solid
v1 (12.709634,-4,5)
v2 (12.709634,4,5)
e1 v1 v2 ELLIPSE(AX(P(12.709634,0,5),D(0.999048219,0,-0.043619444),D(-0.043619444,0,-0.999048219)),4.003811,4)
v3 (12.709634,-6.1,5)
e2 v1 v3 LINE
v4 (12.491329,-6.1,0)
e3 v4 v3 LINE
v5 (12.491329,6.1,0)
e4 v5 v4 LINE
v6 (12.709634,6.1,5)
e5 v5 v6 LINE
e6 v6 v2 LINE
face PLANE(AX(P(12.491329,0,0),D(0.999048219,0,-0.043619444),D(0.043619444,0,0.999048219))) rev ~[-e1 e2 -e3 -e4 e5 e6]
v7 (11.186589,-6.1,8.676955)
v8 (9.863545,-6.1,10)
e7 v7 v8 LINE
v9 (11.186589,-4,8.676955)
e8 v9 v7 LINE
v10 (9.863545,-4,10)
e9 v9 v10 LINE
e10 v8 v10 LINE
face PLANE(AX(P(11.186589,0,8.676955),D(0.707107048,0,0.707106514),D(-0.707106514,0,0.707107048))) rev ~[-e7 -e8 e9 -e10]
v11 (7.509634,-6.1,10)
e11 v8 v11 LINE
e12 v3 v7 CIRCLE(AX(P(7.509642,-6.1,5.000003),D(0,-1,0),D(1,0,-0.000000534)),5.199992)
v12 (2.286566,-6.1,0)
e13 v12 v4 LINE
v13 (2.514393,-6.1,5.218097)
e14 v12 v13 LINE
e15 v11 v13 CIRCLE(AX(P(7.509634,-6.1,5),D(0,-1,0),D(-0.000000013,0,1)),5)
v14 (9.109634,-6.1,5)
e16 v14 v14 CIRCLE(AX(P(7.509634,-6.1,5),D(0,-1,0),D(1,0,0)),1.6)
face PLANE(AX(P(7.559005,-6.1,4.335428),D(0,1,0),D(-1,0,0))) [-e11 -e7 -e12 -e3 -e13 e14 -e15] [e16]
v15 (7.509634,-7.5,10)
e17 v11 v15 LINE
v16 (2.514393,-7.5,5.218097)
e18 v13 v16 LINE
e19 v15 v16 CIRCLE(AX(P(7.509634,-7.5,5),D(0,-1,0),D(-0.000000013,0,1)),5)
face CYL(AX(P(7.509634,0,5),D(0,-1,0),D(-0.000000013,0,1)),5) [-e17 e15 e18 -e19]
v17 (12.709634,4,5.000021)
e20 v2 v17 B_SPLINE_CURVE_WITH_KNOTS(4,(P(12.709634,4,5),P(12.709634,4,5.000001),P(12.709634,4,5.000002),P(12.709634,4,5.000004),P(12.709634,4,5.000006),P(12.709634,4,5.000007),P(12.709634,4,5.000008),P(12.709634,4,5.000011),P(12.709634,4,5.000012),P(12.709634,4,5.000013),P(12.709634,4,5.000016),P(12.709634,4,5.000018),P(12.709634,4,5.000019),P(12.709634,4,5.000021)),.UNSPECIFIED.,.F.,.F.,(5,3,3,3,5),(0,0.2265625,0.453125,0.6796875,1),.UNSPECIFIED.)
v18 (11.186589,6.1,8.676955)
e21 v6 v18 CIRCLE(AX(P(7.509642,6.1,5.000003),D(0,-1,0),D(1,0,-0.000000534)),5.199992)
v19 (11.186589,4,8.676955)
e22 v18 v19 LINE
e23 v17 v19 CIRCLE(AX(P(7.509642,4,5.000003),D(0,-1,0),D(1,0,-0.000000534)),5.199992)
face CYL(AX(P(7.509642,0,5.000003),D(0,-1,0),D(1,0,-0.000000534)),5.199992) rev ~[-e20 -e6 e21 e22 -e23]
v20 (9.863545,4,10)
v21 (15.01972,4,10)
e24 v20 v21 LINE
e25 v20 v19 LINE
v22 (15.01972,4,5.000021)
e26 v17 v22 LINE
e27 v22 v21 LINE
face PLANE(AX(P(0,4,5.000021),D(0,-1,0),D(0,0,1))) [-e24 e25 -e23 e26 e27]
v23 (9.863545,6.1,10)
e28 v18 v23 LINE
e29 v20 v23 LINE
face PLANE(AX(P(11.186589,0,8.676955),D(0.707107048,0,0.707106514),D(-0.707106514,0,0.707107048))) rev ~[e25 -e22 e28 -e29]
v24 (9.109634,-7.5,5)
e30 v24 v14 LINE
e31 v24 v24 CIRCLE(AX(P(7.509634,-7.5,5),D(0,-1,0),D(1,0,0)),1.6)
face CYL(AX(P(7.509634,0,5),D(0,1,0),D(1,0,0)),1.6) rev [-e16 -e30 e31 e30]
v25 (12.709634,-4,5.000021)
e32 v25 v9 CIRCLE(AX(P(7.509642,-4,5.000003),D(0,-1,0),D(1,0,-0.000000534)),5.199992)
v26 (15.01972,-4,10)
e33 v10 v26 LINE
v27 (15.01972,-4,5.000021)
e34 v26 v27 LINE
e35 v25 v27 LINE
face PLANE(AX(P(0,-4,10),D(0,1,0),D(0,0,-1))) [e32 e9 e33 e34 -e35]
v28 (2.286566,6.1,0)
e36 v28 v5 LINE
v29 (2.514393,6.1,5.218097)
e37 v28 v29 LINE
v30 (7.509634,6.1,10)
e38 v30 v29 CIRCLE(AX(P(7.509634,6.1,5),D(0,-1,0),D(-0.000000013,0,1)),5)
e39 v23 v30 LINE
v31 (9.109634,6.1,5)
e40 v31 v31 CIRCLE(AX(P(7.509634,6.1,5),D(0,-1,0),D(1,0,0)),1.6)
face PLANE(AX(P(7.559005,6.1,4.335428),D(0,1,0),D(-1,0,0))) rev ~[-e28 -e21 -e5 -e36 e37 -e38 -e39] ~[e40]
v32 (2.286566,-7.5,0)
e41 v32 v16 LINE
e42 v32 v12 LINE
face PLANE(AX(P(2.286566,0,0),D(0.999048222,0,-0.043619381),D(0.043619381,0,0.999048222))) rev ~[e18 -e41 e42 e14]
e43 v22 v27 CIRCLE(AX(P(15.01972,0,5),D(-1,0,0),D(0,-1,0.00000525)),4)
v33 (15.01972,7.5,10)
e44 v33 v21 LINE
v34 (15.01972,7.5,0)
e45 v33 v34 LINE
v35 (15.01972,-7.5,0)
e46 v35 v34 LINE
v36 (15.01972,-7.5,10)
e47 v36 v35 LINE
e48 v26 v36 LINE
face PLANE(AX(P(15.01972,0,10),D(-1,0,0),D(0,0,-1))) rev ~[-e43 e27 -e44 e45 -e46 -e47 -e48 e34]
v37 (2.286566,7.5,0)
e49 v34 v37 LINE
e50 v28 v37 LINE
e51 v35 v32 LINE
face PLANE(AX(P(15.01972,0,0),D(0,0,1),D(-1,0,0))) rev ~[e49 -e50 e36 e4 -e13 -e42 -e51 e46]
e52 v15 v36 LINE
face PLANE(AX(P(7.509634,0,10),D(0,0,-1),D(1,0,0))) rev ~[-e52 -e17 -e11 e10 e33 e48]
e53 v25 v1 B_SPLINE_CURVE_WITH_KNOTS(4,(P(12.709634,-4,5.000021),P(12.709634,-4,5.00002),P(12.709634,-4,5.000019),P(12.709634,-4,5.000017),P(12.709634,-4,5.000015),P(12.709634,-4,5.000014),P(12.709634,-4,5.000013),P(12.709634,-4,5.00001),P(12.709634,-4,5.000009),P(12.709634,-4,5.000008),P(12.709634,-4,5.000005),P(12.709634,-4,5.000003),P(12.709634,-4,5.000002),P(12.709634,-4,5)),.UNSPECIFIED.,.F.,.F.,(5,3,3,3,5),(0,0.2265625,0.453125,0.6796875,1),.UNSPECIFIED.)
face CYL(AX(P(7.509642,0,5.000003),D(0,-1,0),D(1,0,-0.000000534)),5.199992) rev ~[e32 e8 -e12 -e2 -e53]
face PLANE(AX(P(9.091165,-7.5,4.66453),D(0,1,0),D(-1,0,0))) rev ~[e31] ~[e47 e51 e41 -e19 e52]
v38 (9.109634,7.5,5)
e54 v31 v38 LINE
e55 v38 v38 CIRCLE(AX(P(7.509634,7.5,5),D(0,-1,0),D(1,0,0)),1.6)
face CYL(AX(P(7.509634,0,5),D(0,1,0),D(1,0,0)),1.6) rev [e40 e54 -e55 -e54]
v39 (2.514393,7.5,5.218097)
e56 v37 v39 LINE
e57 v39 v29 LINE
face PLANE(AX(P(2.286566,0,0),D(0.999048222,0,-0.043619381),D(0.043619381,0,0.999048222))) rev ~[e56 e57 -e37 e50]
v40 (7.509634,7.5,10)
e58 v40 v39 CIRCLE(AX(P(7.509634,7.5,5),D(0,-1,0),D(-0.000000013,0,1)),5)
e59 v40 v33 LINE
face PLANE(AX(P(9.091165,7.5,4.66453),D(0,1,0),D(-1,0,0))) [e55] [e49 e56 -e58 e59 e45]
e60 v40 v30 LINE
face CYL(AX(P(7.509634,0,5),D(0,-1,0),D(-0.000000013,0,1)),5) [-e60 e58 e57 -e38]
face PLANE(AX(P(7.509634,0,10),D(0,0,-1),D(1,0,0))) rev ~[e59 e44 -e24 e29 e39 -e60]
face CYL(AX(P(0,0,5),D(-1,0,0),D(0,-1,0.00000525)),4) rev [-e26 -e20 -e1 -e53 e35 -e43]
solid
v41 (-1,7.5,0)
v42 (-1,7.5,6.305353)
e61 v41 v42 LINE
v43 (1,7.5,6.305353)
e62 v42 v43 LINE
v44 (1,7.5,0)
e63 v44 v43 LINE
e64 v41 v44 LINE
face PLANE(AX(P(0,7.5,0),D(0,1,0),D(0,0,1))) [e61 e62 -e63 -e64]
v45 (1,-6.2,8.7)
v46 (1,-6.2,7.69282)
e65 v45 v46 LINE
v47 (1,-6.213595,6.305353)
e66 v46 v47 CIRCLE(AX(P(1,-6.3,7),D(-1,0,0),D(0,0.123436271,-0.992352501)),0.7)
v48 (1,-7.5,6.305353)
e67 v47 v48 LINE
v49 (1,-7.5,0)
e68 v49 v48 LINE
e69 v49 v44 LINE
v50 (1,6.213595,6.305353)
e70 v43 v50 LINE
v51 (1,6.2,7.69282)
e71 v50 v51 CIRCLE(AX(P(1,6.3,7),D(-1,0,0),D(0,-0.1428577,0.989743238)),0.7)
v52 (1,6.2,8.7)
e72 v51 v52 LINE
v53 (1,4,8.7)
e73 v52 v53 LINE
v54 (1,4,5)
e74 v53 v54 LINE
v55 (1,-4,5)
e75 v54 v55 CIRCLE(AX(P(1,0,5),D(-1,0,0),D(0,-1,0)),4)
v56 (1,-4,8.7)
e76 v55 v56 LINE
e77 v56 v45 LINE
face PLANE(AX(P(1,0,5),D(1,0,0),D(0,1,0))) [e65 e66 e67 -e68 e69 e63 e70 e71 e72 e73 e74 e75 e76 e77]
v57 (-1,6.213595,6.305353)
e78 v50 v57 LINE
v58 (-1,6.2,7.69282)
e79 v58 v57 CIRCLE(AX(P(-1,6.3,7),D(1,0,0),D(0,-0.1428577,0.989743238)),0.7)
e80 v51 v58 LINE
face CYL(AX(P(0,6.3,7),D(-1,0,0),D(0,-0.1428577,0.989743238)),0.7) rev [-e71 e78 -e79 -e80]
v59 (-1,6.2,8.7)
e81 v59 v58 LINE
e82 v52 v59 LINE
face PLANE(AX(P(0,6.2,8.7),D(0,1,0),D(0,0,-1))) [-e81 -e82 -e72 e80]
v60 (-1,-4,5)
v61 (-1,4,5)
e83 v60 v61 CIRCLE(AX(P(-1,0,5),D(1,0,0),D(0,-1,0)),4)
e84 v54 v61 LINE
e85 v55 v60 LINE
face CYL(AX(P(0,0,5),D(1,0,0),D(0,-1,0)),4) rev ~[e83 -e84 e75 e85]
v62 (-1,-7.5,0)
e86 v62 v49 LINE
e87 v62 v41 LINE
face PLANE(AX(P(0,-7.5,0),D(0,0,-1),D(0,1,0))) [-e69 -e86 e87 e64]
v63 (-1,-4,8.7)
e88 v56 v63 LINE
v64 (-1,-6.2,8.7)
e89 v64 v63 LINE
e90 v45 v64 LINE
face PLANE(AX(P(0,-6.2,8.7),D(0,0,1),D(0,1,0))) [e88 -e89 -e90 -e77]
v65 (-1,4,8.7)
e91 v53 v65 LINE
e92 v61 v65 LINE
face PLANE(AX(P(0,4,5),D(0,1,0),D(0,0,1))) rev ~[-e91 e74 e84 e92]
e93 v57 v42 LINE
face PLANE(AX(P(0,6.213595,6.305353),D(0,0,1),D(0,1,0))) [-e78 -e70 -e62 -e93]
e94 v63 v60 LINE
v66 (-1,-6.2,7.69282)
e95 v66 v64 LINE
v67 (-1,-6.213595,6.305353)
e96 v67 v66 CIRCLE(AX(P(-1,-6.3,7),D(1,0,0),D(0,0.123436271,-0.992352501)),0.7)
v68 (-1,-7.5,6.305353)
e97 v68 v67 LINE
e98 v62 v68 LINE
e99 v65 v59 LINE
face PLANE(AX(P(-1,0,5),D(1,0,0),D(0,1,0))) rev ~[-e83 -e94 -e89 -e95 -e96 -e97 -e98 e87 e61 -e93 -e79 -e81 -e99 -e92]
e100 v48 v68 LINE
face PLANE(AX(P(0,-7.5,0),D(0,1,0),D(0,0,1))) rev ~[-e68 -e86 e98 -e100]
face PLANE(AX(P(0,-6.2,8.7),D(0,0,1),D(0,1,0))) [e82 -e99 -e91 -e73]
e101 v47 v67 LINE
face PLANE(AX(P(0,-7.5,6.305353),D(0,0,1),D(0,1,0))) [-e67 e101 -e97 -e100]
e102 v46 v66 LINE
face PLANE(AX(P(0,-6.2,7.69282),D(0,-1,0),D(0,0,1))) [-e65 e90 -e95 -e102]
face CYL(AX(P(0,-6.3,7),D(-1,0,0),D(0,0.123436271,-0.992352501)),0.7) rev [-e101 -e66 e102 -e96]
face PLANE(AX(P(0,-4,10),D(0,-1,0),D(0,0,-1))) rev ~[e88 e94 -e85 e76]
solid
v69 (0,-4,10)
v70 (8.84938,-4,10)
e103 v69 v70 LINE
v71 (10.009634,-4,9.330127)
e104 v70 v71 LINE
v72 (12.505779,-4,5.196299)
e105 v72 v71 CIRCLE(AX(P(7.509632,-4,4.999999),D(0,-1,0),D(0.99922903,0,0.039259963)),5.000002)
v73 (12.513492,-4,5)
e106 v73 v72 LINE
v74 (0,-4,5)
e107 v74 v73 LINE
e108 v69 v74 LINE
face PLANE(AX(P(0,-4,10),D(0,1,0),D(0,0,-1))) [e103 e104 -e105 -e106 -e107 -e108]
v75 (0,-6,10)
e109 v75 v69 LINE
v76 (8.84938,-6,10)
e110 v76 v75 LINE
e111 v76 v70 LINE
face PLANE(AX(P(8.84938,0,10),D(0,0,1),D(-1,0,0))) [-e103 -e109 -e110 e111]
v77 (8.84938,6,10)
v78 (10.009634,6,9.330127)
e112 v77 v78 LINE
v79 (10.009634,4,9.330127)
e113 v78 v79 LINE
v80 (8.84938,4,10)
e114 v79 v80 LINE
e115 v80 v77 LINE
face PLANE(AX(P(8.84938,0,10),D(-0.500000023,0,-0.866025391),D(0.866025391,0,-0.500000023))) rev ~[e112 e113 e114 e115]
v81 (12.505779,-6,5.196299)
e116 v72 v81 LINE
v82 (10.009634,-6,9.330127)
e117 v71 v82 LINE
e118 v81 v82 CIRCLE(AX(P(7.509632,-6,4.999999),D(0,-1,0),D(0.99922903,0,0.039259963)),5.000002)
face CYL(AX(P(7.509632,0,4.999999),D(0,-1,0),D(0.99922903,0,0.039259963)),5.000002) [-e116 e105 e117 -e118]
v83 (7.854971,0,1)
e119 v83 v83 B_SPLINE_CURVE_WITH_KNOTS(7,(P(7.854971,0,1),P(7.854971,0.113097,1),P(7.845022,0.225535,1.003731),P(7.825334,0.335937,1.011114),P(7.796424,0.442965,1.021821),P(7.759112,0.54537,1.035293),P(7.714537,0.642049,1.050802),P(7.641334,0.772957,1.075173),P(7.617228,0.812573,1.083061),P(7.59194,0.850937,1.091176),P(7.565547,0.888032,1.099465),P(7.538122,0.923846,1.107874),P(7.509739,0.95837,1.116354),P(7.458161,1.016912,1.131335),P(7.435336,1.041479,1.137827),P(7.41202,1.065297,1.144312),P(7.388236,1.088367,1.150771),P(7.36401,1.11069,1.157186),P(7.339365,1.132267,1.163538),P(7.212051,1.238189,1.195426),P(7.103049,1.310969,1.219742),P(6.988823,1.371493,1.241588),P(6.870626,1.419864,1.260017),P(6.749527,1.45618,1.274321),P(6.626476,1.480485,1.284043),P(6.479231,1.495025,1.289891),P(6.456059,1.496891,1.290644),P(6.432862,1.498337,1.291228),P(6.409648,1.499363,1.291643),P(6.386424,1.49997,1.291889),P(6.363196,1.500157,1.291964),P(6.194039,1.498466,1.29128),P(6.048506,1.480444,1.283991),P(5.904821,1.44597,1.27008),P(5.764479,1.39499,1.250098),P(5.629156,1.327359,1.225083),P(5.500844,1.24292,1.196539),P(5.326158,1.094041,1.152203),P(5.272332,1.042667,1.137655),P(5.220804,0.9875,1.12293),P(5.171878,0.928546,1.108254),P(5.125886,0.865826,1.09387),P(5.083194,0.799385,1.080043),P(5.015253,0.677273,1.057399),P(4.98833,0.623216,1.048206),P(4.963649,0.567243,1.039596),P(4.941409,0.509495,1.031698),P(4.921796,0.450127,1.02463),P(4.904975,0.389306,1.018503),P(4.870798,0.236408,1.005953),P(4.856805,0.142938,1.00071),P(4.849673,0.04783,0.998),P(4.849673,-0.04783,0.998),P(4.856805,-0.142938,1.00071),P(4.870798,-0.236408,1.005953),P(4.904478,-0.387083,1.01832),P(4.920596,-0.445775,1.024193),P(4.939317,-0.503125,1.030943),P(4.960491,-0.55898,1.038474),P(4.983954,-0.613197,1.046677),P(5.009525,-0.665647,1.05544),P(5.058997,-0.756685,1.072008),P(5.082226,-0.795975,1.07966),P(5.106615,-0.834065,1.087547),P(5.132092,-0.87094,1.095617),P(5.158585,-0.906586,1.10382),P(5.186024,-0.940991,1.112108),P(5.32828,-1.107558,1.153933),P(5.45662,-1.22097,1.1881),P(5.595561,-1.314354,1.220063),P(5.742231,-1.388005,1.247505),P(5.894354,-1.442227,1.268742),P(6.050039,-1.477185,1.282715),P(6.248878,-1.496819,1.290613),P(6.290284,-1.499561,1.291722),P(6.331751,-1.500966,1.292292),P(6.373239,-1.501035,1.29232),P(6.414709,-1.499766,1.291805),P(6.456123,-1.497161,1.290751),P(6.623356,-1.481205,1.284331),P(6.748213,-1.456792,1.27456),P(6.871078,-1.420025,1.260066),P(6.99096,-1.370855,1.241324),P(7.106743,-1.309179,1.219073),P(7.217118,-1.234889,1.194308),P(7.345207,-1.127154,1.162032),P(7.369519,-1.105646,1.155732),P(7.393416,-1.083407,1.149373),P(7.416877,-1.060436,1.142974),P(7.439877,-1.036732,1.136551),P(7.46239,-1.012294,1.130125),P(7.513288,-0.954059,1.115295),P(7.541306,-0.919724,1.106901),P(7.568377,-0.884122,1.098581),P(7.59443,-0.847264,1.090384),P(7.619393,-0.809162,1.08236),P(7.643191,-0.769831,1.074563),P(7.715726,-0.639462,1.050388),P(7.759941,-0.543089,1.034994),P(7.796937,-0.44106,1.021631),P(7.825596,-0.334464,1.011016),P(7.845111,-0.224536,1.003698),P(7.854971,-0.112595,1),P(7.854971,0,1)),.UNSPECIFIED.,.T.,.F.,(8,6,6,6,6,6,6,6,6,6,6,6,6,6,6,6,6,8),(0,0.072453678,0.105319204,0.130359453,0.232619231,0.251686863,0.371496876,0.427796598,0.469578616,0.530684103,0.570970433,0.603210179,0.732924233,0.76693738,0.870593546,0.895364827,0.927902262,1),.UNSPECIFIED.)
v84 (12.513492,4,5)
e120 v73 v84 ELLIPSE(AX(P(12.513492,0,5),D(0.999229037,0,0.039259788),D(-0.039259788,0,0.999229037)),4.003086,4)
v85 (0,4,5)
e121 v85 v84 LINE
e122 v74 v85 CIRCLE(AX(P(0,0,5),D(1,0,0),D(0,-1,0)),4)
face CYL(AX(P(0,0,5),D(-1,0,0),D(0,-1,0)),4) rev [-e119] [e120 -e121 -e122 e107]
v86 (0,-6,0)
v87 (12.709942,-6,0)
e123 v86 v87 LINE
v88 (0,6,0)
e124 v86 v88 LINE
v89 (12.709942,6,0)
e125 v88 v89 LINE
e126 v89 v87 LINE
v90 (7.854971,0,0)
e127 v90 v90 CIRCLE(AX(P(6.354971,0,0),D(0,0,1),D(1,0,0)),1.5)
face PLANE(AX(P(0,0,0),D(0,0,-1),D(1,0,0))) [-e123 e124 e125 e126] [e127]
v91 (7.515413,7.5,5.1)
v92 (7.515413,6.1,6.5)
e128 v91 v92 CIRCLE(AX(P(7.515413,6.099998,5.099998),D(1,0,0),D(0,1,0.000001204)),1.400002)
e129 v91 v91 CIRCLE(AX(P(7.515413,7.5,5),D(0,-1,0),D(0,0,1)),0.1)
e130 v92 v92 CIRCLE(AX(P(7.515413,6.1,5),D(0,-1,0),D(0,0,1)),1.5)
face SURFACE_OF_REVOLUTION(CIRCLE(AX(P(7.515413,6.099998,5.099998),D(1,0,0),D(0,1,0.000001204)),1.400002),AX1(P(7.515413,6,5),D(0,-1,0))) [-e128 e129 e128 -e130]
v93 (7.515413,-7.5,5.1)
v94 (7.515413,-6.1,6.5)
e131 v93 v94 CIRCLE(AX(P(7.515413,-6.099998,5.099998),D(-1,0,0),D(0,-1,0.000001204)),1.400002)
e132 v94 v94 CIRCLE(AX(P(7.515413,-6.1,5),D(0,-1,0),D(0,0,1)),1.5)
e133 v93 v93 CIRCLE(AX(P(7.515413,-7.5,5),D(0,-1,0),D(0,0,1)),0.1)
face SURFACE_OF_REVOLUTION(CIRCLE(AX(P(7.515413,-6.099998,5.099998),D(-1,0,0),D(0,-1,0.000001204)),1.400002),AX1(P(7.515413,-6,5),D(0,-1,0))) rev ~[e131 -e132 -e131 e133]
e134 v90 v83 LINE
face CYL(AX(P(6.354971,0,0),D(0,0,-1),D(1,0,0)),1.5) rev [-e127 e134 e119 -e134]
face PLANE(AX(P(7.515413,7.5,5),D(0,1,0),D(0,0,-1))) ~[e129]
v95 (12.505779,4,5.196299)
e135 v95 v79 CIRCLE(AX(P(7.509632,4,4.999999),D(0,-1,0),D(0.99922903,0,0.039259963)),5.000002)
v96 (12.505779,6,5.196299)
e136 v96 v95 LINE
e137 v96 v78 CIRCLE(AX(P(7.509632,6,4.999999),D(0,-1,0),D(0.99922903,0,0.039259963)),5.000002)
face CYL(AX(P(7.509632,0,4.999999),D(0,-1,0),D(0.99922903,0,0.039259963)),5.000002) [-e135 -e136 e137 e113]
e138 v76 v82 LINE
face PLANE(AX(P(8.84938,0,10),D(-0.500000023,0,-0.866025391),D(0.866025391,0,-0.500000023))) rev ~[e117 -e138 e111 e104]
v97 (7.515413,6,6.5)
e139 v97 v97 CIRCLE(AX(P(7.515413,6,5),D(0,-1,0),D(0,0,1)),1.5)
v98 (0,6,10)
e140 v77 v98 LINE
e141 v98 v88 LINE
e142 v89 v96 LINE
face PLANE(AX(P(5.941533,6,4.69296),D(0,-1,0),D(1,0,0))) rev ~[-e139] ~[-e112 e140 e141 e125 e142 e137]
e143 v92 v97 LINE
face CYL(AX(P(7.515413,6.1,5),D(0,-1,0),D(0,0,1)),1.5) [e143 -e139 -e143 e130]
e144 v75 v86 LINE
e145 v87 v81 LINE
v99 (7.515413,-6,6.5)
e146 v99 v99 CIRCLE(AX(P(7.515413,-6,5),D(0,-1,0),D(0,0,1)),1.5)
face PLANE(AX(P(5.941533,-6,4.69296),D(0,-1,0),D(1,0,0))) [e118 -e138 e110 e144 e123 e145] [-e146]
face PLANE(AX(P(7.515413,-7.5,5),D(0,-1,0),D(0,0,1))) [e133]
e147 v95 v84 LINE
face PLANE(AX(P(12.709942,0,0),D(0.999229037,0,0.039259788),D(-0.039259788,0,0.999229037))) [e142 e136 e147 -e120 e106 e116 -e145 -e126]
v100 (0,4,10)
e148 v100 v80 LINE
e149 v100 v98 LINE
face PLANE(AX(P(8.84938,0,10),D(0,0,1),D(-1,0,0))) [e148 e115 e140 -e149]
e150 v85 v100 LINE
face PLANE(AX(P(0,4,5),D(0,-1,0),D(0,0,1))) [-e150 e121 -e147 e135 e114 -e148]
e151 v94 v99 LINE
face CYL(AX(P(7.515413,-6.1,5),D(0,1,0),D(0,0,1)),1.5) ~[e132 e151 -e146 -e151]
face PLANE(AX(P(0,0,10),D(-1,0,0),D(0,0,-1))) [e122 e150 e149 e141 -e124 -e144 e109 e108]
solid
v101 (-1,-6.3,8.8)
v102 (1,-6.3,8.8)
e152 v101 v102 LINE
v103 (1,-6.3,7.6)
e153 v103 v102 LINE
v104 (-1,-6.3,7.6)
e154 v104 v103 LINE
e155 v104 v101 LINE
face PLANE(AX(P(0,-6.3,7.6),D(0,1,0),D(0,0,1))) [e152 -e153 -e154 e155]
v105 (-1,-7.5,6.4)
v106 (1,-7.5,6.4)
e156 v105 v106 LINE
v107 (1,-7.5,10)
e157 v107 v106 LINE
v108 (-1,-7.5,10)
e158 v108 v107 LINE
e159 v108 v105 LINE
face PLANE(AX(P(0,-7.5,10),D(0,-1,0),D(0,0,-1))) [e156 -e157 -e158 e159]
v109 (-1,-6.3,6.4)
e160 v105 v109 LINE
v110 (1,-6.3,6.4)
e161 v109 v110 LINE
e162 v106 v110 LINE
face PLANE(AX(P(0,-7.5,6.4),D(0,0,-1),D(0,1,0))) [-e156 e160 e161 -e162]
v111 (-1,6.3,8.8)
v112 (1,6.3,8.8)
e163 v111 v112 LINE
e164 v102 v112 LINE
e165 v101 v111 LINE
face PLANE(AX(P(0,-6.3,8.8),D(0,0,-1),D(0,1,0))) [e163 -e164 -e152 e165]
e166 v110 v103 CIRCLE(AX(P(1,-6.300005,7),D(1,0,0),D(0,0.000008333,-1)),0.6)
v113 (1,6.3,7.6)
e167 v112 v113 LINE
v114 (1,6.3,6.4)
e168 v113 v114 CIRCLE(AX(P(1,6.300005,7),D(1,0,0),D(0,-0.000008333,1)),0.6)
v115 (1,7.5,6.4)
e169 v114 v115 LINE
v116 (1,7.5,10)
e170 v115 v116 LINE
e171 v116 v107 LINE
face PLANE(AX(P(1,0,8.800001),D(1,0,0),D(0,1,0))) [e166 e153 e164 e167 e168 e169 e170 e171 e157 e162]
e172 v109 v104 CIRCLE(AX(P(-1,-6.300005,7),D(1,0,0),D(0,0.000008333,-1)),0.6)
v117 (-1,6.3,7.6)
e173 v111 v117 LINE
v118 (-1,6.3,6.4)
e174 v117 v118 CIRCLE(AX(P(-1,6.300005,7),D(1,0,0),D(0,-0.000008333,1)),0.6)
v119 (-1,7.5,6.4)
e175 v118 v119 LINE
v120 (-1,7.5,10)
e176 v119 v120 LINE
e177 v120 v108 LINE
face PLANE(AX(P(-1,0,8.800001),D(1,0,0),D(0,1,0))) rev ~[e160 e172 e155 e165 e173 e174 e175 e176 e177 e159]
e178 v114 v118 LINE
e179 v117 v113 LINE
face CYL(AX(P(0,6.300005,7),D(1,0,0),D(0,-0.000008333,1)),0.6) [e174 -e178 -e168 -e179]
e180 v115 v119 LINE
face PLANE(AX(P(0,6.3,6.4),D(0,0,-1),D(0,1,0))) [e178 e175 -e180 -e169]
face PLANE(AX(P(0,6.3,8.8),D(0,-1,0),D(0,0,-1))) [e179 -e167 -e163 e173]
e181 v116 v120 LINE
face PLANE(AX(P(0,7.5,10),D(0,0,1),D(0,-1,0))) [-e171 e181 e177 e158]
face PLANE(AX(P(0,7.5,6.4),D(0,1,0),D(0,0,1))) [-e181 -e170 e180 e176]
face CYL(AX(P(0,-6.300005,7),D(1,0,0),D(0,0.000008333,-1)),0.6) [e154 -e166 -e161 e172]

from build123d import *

# Parameters (mm, degrees)
PAD_DEPTH            = 6
POCKET002_DEPTH      = 0.001
POCKET002_DEPTH_BACK = -12.710942
SKETCH012_R          = 1.5
POCKET005_DEPTH      = 10.001
POCKET005_DEPTH_BACK = 0.001
SKETCH001_R          = 1.6
PAD001_DEPTH         = 7.5
SKETCH003_R          = 1.6
POCKET_DEPTH         = 6.1
POCKET001_DEPTH      = 0.001
POCKET001_DEPTH_BACK = -15.02072
PAD002_DEPTH         = 1
SKETCH010_W          = 15
SKETCH010_H          = 10
PAD004_DEPTH         = 1
POCKET003_DEPTH      = 1.001
POCKET003_DEPTH_BACK = -1.001
POCKET004_DEPTH      = 1.001
POCKET004_DEPTH_BACK = -1.001


with BuildPart() as inner:
    # Sketch → Pad (new body, symmetric)
    with BuildSketch(Plane.XZ):
        with BuildLine():
            Line((0, 0), (12.709942, 0))
            Line((12.709942, 0), (12.505779, 5.196299))
            ThreePointArc((12.505779, 5.196299), (11.789842, 7.584534), (10.009634, 9.330127))
            Line((8.84938, 10), (10.009634, 9.330127))
            Line((7.509634, 10), (8.84938, 10))
            Line((7.509634, 10), (0, 10))
            Line((0, 10), (0, 0))
        make_face()
    extrude(amount=PAD_DEPTH, both=True)

    # Sketch005 (on DatumPlane) → Revolution (revolve)
    with BuildSketch(Plane(origin=(7.515413, -6, 5), x_dir=(0, -1, 0), z_dir=(-1, 0, 0))):
        with BuildLine():
            Line((0, 0), (1.5, 0))
            Line((1.5, 0.1), (1.5, 0))
            ThreePointArc((1.5, 0.1), (1.089949, 1.089949), (0.1, 1.5))
            Line((0.1, 1.5), (0, 1.5))
            Line((0, 1.5), (0, 0))
        make_face()
    revolution = revolve(axis=Axis((7.515413, -6, 5), (0, -1, 0)))

    # Mirrored: Revolution across XZ
    add(revolution.mirror(Plane.XZ))

    # Sketch007 → Pocket002 (cut, two sides)
    with BuildSketch(Plane.YZ) as pocket002_sk:
        with BuildLine():
            ThreePointArc((-4, 5), (0, 1), (4, 5))
            Line((4, 5), (4, 10))
            Line((4, 10), (-4, 10))
            Line((-4, 10), (-4, 5))
        make_face()
    extrude(amount=-POCKET002_DEPTH, mode=Mode.SUBTRACT)
    extrude(pocket002_sk.sketch, amount=-POCKET002_DEPTH_BACK, mode=Mode.SUBTRACT)

    # Sketch012 → Pocket005 (cut, two sides)
    with BuildSketch(Plane.XY) as pocket005_sk:
        with Locations((6.354971, 0)):
            Circle(SKETCH012_R)
    extrude(amount=POCKET005_DEPTH, mode=Mode.SUBTRACT)
    extrude(pocket005_sk.sketch, amount=-POCKET005_DEPTH_BACK, mode=Mode.SUBTRACT)


with BuildPart() as outer:
    # Sketch001 → Pad001 (new body, symmetric)
    with BuildSketch(Plane.XZ):
        with BuildLine():
            Line((15.01972, 10), (15.01972, 0))
            Line((15.01972, 0), (2.286566, 0))
            Line((2.286566, 0), (2.514393, 5.218097))
            ThreePointArc((7.509634, 10), (4.052069, 8.61182), (2.514393, 5.218097))
            Line((7.509634, 10), (15.01972, 10))
        make_face()
        with Locations((7.509634, 5)):
            Circle(SKETCH001_R, mode=Mode.SUBTRACT)
    extrude(amount=PAD001_DEPTH, both=True)

    # Sketch003 → Pocket (cut, symmetric)
    with BuildSketch(Plane.XZ):
        with BuildLine():
            Line((2.286566, 0), (2.514393, 5.218097))
            ThreePointArc((7.509634, 10), (4.052069, 8.61182), (2.514393, 5.218097))
            Line((9.863545, 10), (7.509634, 10))
            Line((11.186589, 8.676955), (9.863545, 10))
            ThreePointArc((12.709634, 5), (12.313808, 6.989954), (11.186589, 8.676955))
            Line((12.491329, 0), (12.709634, 5))
            Line((2.514393, 0), (12.491329, 0))
            Line((2.286566, 0), (2.514393, 0))
        make_face()
        with Locations((7.509634, 5)):
            Circle(SKETCH003_R, mode=Mode.SUBTRACT)
    extrude(amount=POCKET_DEPTH, both=True, mode=Mode.SUBTRACT)

    # Sketch006 → Pocket001 (cut, two sides)
    with BuildSketch(Plane.YZ) as pocket001_sk:
        with BuildLine():
            ThreePointArc((-4, 5.000021), (0, 1), (4, 5.000021))
            Line((4, 5.000021), (4, 10))
            Line((4, 10), (-4, 10))
            Line((-4, 10), (-4, 5.000021))
        make_face()
    extrude(amount=-POCKET001_DEPTH, mode=Mode.SUBTRACT)
    extrude(pocket001_sk.sketch, amount=-POCKET001_DEPTH_BACK, mode=Mode.SUBTRACT)


with BuildPart() as separator_clip:
    # Sketch008 → Pad002 (new body, symmetric)
    with BuildSketch(Plane.YZ):
        with BuildLine():
            Line((7.5, 10), (-7.5, 10))
            Line((-7.5, 10), (-7.5, 6.4))
            Line((-7.5, 6.4), (-6.3, 6.4))
            ThreePointArc((-6.3, 6.4), (-5.700005, 7), (-6.3, 7.6))
            Line((-6.3, 7.6), (-6.3, 8.8))
            Line((-6.3, 8.8), (6.3, 8.8))
            Line((6.3, 8.8), (6.3, 7.6))
            ThreePointArc((6.3, 7.6), (5.700005, 7), (6.3, 6.4))
            Line((6.3, 6.4), (7.5, 6.4))
            Line((7.5, 6.4), (7.5, 10))
        make_face()
    extrude(amount=PAD002_DEPTH, both=True)


with BuildPart() as separator:
    # Sketch010 → Pad004 (new body, symmetric)
    with BuildSketch(Plane.YZ):
        with Locations((0, 5)):
            Rectangle(SKETCH010_W, SKETCH010_H)
    extrude(amount=PAD004_DEPTH, both=True)

    # Sketch009 → Pocket003 (cut, two sides)
    with BuildSketch(Plane.YZ) as pocket003_sk:
        with BuildLine():
            Line((7.5, 10), (-7.5, 10))
            Line((-7.5, 10), (-7.5, 6.305353))
            Line((-7.5, 6.305353), (-6.213595, 6.305353))
            ThreePointArc((-6.213595, 6.305353), (-5.600034, 6.993141), (-6.2, 7.69282))
            Line((-6.2, 7.69282), (-6.2, 8.7))
            Line((-6.2, 8.7), (6.2, 8.7))
            Line((6.2, 8.7), (6.2, 7.69282))
            ThreePointArc((6.2, 7.69282), (5.600034, 6.993141), (6.213595, 6.305353))
            Line((6.213595, 6.305353), (7.5, 6.305353))
            Line((7.5, 6.305353), (7.5, 10))
        make_face()
    extrude(amount=-POCKET003_DEPTH, mode=Mode.SUBTRACT)
    extrude(pocket003_sk.sketch, amount=-POCKET003_DEPTH_BACK, mode=Mode.SUBTRACT)

    # Sketch011 → Pocket004 (cut, two sides)
    with BuildSketch(Plane.YZ) as pocket004_sk:
        with BuildLine():
            ThreePointArc((-4, 5), (0, 1), (4, 5))
            Line((4, 5), (4, 10))
            Line((4, 10), (-4, 10))
            Line((-4, 10), (-4, 5))
        make_face()
    extrude(amount=-POCKET004_DEPTH, mode=Mode.SUBTRACT)
    extrude(pocket004_sk.sketch, amount=-POCKET004_DEPTH_BACK, mode=Mode.SUBTRACT)


solid = Compound([inner.part, outer.part, separator_clip.part, separator.part])
